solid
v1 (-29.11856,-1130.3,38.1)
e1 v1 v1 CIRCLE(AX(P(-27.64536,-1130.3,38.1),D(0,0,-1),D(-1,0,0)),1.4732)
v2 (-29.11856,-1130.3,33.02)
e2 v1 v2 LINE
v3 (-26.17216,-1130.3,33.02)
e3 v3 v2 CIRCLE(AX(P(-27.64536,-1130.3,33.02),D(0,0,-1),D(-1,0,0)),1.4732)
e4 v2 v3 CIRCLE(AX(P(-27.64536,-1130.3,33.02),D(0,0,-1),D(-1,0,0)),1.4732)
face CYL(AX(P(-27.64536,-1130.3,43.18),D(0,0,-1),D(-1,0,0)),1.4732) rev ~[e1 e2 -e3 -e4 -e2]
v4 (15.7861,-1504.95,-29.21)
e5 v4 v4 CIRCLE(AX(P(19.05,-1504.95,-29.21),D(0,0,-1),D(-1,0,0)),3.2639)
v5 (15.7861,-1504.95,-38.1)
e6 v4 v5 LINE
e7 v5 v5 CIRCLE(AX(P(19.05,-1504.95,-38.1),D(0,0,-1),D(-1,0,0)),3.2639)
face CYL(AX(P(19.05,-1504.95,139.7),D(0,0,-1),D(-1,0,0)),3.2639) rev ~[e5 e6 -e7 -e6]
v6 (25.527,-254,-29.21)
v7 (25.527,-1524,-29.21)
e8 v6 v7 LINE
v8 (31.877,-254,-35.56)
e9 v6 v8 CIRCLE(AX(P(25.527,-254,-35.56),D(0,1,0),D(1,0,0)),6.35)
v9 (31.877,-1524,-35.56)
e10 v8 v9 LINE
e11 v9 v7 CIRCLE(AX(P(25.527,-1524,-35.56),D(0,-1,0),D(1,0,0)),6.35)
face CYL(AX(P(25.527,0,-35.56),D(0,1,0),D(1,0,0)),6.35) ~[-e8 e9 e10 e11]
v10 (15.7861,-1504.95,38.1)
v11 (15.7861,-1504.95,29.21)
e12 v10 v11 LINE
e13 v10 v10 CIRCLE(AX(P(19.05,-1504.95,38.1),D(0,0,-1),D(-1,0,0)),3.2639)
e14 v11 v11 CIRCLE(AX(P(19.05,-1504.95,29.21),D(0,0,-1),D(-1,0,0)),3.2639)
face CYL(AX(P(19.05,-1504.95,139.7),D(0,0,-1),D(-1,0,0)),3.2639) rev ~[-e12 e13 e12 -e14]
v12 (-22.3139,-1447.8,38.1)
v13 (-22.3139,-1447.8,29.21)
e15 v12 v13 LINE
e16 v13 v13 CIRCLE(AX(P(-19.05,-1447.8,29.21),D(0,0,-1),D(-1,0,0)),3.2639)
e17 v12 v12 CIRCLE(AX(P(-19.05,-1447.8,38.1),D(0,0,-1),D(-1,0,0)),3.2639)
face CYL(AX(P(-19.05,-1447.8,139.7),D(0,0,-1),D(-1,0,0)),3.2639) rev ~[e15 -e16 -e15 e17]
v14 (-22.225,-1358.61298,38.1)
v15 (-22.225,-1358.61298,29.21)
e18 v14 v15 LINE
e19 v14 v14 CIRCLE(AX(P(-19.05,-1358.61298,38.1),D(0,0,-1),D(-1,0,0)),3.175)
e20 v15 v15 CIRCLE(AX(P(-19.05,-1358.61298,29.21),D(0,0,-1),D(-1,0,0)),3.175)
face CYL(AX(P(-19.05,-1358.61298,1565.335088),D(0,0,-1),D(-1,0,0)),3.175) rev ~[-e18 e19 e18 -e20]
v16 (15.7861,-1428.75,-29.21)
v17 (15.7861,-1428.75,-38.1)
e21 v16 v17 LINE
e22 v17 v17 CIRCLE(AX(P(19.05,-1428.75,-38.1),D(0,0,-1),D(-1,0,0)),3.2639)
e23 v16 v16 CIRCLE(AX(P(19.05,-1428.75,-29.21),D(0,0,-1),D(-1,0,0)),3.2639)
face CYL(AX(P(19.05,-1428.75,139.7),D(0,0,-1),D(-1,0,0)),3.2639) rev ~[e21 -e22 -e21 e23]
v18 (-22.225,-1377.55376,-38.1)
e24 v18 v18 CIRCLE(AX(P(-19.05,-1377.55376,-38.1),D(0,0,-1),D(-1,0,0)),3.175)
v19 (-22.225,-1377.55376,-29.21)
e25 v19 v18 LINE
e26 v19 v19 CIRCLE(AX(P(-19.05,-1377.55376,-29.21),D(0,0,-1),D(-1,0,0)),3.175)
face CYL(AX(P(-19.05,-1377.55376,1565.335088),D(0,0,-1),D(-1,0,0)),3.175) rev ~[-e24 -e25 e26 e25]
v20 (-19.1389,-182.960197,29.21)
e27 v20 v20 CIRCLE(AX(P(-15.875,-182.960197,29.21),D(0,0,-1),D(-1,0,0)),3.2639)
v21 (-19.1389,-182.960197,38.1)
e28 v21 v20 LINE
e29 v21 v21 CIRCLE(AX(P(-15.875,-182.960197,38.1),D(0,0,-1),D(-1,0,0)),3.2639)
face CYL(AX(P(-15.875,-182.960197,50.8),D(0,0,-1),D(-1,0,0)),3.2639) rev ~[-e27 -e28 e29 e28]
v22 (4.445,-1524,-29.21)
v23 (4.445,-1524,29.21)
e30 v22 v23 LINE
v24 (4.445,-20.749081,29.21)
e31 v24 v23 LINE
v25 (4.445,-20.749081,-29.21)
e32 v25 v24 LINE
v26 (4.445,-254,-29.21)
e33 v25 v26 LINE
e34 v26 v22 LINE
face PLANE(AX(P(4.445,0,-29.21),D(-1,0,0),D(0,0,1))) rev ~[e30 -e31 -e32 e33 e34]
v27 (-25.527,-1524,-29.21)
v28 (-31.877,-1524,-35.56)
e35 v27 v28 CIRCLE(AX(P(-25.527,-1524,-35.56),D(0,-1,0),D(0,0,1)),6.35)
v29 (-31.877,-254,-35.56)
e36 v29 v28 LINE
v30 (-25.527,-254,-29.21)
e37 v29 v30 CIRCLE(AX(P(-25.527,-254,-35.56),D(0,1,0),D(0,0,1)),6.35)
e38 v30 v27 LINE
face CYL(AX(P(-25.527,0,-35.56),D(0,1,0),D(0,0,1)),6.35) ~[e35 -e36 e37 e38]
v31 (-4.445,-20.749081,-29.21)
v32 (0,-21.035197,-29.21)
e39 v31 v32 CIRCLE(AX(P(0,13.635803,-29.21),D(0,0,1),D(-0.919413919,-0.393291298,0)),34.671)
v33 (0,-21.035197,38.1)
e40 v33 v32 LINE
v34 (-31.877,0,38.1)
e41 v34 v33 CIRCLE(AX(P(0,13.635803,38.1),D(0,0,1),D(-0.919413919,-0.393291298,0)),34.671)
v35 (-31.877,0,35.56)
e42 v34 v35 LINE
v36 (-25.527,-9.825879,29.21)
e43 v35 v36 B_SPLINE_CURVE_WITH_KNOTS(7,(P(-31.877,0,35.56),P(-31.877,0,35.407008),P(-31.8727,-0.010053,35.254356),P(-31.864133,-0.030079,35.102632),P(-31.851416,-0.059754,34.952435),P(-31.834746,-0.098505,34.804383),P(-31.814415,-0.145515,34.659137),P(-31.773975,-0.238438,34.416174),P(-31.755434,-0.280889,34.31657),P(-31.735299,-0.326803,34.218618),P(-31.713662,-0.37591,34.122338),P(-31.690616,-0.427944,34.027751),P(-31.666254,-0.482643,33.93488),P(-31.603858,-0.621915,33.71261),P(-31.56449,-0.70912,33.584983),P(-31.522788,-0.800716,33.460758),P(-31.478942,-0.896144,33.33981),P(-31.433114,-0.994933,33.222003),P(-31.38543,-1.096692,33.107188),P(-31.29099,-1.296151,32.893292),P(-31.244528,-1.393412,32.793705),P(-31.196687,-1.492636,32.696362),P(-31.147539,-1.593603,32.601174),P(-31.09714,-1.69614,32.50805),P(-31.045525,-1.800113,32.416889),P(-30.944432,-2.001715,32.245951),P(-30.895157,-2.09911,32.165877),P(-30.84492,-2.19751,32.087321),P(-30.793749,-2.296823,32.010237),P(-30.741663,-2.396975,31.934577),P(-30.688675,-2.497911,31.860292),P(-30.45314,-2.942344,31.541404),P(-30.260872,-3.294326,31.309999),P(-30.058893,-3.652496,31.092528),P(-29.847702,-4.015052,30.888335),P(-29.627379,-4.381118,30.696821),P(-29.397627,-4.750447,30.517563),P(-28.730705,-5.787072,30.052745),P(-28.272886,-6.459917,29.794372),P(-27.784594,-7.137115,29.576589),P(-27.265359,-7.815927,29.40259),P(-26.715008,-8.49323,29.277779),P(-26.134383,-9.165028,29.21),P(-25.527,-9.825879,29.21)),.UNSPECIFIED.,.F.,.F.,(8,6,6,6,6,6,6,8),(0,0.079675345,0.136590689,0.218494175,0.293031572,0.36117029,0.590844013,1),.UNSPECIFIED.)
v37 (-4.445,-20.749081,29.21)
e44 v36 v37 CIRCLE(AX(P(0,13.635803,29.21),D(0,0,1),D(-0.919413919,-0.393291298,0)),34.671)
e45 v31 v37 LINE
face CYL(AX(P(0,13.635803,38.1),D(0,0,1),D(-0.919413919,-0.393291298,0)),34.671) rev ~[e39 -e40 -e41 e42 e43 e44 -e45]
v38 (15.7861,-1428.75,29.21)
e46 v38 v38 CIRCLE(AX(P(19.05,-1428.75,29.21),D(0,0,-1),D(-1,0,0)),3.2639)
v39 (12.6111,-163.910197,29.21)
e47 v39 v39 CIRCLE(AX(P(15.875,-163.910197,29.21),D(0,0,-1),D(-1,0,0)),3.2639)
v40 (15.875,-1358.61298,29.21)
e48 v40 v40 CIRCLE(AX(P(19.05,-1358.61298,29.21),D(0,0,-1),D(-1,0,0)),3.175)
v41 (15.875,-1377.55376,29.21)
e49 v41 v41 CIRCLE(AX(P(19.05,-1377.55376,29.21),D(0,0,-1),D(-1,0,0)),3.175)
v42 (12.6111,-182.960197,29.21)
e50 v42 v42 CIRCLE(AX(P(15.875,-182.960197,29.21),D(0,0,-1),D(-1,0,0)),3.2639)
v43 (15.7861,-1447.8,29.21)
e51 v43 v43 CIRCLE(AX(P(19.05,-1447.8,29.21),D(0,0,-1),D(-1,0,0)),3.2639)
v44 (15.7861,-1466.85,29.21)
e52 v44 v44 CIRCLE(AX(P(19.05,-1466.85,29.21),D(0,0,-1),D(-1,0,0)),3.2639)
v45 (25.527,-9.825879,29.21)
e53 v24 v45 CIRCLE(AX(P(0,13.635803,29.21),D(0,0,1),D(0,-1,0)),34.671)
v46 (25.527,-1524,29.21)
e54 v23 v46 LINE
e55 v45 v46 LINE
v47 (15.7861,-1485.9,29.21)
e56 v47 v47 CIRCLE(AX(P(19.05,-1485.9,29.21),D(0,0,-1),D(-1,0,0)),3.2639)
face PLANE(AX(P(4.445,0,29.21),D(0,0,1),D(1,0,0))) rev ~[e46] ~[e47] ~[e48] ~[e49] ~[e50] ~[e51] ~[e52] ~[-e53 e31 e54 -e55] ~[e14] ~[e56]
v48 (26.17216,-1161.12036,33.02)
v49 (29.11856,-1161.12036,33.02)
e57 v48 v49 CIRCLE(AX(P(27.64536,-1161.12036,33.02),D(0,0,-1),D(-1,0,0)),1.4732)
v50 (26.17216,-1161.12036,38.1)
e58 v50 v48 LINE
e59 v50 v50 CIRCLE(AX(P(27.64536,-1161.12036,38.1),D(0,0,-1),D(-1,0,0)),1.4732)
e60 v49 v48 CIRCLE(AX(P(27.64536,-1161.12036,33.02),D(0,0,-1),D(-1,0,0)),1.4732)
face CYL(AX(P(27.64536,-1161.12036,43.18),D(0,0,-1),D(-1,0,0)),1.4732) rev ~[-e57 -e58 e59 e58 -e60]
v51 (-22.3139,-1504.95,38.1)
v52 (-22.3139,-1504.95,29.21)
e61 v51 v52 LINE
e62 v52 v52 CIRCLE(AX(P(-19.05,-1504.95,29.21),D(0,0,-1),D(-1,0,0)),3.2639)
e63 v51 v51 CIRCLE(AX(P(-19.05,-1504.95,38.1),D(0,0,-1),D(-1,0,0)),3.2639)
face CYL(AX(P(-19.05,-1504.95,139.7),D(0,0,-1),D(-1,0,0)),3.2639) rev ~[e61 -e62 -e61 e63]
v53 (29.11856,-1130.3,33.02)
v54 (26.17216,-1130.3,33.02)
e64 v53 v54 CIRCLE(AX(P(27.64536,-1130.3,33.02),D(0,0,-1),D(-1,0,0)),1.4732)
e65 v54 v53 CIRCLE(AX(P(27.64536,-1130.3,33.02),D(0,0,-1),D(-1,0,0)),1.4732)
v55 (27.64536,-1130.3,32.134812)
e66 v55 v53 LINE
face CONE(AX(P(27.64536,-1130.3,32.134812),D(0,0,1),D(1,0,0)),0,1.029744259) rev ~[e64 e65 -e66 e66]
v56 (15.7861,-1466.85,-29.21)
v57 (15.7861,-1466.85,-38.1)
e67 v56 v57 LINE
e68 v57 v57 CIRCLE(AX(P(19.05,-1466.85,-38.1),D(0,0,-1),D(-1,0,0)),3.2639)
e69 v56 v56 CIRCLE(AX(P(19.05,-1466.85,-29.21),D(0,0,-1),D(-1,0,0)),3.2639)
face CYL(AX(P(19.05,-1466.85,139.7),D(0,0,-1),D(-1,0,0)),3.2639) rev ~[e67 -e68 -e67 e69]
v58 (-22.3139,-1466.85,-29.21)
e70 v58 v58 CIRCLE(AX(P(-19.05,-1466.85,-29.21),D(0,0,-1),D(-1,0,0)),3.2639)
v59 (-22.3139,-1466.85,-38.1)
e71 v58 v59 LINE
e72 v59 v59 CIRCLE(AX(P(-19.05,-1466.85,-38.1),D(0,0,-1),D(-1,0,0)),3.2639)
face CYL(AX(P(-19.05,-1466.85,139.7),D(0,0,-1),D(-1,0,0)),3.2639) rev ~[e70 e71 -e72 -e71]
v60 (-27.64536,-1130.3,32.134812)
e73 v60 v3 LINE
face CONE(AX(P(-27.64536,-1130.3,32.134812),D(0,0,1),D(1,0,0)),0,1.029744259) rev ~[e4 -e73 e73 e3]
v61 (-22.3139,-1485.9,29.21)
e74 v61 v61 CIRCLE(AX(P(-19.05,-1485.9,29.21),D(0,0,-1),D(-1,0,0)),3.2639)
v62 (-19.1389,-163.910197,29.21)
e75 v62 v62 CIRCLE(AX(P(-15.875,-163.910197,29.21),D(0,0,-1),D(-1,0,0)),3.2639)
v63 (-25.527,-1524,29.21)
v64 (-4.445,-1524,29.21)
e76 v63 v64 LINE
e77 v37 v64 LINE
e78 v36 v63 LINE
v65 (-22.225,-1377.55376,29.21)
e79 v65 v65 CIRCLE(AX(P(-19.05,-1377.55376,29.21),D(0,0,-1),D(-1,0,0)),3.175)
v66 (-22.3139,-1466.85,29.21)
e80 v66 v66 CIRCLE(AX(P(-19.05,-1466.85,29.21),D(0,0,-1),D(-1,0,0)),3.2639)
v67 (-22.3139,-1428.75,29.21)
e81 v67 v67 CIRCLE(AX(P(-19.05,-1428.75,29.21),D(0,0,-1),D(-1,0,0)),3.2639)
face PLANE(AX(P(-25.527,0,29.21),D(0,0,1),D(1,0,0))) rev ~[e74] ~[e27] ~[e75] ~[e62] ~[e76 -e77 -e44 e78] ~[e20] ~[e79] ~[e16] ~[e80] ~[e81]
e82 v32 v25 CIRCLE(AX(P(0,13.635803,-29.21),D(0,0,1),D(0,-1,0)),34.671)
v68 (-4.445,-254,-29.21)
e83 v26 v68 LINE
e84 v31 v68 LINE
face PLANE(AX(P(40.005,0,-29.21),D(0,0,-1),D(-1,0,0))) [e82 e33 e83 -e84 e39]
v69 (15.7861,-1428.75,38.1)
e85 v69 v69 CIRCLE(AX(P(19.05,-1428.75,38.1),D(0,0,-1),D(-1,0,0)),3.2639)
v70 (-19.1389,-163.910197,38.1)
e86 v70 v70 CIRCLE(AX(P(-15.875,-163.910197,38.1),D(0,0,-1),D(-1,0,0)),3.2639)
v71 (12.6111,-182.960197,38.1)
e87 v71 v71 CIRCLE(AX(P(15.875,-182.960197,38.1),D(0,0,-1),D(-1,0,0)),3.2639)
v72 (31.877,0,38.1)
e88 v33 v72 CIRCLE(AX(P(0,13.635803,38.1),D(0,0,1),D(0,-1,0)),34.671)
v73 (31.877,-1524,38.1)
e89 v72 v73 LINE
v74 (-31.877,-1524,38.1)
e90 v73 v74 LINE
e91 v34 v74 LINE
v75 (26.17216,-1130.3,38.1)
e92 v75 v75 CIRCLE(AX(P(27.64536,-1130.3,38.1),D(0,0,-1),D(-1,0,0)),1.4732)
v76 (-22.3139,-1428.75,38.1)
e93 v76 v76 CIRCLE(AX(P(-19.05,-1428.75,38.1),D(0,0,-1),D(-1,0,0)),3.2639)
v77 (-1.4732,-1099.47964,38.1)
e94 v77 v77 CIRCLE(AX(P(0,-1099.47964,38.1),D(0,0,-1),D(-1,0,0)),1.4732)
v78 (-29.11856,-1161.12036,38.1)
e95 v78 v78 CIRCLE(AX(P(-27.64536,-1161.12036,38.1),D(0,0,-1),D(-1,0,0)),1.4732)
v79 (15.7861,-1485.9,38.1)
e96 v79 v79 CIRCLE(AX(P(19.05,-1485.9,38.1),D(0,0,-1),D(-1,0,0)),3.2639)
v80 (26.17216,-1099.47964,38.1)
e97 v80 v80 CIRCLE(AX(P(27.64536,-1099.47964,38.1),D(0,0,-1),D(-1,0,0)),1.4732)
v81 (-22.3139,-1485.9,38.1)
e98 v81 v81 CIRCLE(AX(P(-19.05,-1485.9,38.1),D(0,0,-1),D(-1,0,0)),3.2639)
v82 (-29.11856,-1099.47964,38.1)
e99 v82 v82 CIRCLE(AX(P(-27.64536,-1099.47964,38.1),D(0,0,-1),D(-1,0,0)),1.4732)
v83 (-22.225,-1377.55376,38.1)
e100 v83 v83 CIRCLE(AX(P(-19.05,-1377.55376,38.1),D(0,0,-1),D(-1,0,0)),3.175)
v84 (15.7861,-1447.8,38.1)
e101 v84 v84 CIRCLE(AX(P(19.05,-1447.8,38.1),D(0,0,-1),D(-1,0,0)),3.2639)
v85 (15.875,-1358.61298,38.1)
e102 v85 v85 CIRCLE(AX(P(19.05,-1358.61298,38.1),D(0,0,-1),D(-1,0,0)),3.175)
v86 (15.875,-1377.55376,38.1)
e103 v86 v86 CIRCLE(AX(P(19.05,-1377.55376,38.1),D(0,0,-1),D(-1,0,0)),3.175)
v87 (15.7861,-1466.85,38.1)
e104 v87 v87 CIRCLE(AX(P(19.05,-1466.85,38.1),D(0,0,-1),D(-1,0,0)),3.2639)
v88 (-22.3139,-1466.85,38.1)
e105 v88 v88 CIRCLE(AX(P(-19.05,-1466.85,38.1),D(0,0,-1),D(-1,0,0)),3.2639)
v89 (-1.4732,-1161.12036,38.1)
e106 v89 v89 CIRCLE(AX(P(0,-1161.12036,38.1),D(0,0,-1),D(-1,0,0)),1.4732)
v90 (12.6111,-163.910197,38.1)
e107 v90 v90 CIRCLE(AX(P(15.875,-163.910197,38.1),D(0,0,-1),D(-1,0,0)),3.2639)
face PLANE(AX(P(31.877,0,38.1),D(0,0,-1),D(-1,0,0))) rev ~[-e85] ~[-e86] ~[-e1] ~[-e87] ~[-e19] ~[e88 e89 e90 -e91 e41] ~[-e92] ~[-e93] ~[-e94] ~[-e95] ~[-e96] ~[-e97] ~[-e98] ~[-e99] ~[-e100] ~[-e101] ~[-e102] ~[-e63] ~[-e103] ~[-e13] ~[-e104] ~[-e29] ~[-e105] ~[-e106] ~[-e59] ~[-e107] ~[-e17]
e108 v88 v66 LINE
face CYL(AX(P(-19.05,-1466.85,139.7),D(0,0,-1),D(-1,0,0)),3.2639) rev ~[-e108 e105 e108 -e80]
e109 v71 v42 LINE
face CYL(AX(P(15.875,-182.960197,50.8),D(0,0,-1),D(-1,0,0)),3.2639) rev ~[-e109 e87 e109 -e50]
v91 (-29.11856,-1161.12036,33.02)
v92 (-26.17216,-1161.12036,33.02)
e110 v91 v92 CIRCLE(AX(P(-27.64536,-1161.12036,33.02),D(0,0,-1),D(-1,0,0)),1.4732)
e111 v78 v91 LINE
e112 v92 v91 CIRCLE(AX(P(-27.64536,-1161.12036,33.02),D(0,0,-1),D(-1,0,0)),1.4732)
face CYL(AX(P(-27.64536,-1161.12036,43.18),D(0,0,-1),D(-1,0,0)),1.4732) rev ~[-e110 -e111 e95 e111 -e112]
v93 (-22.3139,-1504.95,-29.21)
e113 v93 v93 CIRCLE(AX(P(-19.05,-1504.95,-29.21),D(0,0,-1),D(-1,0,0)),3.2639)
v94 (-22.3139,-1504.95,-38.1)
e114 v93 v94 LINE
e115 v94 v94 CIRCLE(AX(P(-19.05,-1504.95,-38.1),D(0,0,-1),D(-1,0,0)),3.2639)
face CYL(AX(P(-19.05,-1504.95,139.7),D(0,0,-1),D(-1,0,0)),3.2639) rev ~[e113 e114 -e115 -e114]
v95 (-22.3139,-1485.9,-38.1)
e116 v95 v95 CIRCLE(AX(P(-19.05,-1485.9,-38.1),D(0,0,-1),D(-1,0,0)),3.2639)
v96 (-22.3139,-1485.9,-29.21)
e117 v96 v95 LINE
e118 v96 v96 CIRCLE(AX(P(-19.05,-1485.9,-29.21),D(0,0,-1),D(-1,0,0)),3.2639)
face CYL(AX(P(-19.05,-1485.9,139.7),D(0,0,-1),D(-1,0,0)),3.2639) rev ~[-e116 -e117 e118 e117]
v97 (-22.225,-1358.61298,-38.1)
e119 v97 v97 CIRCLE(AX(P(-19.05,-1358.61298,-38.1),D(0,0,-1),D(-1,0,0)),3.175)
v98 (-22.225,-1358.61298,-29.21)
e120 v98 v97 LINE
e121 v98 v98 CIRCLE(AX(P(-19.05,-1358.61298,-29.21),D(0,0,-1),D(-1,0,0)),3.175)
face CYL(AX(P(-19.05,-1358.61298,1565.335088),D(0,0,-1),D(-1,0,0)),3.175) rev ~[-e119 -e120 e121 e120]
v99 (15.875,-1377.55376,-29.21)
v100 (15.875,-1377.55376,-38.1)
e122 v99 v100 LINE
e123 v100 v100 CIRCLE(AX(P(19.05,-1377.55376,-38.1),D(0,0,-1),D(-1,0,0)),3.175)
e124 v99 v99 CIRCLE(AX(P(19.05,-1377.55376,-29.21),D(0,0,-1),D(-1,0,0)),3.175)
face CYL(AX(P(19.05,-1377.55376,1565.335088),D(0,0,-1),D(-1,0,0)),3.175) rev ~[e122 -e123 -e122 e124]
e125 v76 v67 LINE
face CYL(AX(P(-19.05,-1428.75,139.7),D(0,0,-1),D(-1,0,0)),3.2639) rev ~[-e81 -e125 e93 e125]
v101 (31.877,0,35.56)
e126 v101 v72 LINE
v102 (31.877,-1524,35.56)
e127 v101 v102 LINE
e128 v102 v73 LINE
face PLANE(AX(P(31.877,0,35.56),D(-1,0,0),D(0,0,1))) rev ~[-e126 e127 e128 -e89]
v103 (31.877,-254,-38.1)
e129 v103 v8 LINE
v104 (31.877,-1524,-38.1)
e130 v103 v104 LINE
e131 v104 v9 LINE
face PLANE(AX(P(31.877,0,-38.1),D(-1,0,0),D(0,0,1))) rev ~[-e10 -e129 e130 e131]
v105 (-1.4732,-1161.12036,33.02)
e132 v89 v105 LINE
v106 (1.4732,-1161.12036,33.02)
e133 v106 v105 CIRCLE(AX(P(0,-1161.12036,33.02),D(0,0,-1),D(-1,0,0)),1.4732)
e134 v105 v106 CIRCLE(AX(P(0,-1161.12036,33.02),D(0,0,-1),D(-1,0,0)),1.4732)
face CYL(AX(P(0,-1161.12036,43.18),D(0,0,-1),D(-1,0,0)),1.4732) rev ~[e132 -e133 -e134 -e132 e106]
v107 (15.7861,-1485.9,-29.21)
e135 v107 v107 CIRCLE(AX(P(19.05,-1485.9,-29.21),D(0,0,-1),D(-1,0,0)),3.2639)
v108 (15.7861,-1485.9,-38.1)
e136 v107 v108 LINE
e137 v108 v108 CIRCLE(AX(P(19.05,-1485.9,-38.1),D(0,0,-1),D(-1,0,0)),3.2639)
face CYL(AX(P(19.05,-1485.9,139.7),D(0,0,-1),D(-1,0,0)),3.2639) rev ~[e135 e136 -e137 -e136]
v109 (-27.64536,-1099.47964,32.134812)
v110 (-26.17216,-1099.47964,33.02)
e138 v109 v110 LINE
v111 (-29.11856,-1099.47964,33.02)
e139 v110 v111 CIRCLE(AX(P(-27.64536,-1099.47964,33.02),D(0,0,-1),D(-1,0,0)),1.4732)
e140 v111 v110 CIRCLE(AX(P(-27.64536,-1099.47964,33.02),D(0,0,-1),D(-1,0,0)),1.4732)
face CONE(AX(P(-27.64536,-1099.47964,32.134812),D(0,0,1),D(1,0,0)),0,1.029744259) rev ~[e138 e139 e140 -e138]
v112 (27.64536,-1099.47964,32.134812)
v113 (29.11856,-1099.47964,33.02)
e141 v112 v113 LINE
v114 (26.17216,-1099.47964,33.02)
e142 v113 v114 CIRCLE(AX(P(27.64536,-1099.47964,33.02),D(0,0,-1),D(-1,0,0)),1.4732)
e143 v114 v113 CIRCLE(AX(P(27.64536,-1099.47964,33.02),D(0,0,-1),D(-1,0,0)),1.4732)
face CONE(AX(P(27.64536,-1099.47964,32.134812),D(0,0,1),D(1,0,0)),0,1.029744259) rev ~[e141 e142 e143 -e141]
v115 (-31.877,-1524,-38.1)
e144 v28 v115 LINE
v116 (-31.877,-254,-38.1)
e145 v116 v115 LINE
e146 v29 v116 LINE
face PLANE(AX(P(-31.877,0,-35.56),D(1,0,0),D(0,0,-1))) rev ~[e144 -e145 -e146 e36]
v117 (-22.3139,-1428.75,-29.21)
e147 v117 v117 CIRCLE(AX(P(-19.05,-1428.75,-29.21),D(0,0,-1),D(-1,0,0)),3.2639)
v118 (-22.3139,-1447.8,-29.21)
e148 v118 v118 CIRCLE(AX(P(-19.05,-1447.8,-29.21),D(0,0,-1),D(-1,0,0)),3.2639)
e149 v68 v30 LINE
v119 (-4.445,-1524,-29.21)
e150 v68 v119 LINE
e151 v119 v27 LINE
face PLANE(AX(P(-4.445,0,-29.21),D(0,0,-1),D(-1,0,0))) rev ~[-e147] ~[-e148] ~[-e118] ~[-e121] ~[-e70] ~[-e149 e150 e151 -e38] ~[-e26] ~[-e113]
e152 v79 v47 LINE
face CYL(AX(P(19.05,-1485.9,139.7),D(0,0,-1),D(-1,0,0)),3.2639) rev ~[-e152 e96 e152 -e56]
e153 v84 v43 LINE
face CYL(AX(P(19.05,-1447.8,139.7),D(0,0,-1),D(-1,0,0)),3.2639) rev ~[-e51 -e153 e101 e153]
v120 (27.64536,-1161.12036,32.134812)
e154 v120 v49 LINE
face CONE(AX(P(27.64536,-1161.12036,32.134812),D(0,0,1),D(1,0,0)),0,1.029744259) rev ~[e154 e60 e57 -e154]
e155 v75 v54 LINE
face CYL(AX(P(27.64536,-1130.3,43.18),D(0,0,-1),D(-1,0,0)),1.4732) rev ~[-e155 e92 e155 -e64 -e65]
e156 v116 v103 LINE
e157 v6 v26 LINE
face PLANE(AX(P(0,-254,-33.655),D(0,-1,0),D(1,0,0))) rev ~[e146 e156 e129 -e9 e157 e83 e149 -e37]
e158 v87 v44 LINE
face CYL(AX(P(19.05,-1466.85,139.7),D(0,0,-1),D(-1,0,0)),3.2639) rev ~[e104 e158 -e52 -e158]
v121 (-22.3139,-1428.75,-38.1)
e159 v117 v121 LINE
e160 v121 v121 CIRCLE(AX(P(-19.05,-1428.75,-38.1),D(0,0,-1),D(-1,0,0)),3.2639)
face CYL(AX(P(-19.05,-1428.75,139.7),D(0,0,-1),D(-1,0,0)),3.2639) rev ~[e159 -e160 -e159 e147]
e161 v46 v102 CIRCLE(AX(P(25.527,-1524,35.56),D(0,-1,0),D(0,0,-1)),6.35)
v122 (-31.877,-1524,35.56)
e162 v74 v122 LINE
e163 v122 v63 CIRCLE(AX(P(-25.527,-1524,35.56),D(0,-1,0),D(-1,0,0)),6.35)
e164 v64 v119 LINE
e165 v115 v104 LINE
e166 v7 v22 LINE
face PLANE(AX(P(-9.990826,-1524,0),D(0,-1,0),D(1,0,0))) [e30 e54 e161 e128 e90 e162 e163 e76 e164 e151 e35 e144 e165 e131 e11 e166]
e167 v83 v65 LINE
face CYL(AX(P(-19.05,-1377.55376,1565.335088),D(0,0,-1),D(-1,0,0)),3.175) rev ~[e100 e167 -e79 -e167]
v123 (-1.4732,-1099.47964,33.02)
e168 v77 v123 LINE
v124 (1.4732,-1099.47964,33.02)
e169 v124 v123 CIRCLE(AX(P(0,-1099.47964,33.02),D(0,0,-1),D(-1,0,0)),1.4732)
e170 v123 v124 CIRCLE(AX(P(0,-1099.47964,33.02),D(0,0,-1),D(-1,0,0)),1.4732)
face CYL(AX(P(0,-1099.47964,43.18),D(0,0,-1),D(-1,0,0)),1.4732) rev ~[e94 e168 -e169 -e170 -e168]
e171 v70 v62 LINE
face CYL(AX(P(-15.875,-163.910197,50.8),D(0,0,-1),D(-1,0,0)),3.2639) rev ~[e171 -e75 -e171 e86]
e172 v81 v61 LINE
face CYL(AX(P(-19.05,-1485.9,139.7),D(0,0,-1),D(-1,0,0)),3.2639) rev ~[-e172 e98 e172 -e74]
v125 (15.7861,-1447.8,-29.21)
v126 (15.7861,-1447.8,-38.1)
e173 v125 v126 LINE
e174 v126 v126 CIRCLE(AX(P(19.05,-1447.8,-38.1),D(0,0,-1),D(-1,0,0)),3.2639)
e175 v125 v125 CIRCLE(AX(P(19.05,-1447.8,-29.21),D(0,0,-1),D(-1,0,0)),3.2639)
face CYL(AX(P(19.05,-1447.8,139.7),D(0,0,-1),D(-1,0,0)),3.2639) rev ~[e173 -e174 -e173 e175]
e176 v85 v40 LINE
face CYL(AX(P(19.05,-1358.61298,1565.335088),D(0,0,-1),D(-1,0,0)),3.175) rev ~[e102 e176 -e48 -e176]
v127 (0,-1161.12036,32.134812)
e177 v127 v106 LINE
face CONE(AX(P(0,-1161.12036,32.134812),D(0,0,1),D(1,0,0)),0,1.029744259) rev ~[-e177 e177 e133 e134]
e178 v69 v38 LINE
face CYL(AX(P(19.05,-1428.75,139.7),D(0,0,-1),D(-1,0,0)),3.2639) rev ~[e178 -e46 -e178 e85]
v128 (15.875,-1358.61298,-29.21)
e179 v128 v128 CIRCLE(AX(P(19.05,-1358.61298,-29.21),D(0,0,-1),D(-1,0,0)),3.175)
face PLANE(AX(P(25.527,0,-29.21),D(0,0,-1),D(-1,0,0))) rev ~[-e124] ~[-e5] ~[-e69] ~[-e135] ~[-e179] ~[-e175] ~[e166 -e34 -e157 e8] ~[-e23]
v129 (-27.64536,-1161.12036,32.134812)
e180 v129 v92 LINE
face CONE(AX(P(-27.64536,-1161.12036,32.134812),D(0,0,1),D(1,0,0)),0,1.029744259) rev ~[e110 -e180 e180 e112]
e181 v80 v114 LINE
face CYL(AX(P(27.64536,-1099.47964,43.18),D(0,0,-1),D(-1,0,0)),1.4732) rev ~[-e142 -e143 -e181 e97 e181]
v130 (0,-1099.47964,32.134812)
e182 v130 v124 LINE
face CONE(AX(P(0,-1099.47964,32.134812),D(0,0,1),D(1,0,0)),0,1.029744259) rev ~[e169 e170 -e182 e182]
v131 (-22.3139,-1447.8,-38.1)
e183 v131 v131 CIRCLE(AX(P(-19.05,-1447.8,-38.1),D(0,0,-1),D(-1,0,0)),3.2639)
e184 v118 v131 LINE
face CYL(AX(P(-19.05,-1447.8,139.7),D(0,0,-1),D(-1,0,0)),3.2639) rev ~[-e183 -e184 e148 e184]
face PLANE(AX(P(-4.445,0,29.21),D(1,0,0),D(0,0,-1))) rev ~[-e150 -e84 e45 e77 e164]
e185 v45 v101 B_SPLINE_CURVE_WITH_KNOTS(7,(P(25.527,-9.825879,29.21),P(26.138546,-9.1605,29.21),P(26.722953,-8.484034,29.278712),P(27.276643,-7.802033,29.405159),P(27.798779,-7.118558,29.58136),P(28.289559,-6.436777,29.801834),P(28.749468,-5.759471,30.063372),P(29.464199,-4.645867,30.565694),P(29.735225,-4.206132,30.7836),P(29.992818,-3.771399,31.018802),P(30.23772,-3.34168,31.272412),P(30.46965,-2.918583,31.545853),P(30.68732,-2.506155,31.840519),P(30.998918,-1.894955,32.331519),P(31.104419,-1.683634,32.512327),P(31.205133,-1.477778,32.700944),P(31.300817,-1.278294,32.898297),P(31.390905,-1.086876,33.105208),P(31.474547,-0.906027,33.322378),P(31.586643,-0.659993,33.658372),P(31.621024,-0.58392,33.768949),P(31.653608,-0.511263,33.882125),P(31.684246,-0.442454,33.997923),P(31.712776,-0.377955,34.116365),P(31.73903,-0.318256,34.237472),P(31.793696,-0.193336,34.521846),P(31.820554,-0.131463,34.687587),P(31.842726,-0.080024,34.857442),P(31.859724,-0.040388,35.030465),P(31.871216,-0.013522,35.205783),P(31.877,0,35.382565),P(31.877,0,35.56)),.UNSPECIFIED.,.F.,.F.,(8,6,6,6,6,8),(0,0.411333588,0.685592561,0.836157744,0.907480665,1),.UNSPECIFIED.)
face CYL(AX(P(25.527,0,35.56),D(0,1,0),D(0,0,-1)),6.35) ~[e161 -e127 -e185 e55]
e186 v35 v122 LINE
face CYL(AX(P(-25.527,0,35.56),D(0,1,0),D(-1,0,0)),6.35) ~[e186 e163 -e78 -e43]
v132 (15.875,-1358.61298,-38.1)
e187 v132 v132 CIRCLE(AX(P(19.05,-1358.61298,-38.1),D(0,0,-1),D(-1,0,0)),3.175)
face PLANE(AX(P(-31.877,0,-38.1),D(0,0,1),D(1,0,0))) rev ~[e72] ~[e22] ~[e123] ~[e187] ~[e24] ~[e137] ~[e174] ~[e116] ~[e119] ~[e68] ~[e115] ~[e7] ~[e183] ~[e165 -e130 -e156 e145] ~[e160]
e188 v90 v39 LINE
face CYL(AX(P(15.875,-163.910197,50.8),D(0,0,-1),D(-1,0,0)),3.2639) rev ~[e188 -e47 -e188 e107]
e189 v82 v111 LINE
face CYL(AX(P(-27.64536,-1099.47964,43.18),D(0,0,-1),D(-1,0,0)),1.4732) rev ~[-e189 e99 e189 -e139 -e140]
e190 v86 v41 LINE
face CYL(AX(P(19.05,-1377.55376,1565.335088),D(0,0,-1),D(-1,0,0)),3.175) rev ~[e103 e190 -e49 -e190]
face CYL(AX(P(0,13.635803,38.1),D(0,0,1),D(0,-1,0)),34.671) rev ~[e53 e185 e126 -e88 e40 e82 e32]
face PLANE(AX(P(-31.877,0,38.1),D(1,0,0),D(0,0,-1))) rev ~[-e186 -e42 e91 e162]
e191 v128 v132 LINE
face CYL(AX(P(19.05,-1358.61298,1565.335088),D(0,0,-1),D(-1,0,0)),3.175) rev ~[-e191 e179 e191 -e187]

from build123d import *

# Parameters (mm, degrees)
F1_DEPTH  = 1524
F3_DEPTH  = 101.6
F5_D      = 6.5278
F5_DEPTH  = 12.7
F5_TIP    = 1.9611489744
F7_DEPTH  = 254
F9_D      = 6.5278
F9_DEPTH  = 101.6
F9_TIP    = 1.9611489744
F10_D     = 6.35
F12_D     = 2.9464
F12_DEPTH = 5.08
F12_TIP   = 0.885187864


with BuildPart() as f1:
    # F0 (on Front) → F1 (new body)
    with BuildSketch(Plane.XZ):
        with BuildLine():
            Line((0, -38.1), (0, 0))
            Line((0, 0), (0, 38.1))
            Line((0, 38.1), (-31.877, 38.1))
            Line((-31.877, 38.1), (-31.877, 35.56))
            ThreePointArc((-31.877, 35.56), (-30.0171280605, 31.0698719395), (-25.527, 29.21))
            Line((-25.527, 29.21), (-4.445, 29.21))
            Line((-4.445, 29.21), (-4.445, 0))
            Line((-4.445, 0), (-4.445, -29.21))
            Line((-4.445, -29.21), (-25.527, -29.21))
            ThreePointArc((-25.527, -29.21), (-30.0171280605, -31.0698719395), (-31.877, -35.56))
            Line((-31.877, -35.56), (-31.877, -38.1))
            Line((-31.877, -38.1), (0, -38.1))
        make_face()
        with BuildLine():
            Line((0, 38.1), (0, 0))
            Line((0, 0), (4.445, 0))
            Line((4.445, 0), (4.445, 29.21))
            Line((4.445, 29.21), (25.527, 29.21))
            ThreePointArc((25.527, 29.21), (30.0171280605, 31.0698719395), (31.877, 35.56))
            Line((31.877, 35.56), (31.877, 38.1))
            Line((31.877, 38.1), (0, 38.1))
        make_face()
        with BuildLine():
            Line((4.445, 0), (0, 0))
            Line((0, 0), (0, -38.1))
            Line((0, -38.1), (31.877, -38.1))
            Line((31.877, -38.1), (31.877, -35.56))
            ThreePointArc((31.877, -35.56), (30.0171280605, -31.0698719395), (25.527, -29.21))
            Line((25.527, -29.21), (4.445, -29.21))
            Line((4.445, -29.21), (4.445, 0))
        make_face()
    extrude(amount=F1_DEPTH)

    # F2 (on face) → F3 (cut)
    with BuildSketch(Plane.XY.offset(38.1)):
        with BuildLine():
            ThreePointArc((-31.877, 0), (-19.0959593861, -15.3024519653), (0, -21.03519742))
            Line((0, -21.03519742), (0, 0))
            Line((0, 0), (-31.877, 0))
        make_face()
        with BuildLine():
            Line((0, 0), (0, -21.03519742))
            ThreePointArc((0, -21.03519742), (24.5160992105, -10.8802966305), (34.671, 13.63580258))
            ThreePointArc((34.671, 13.63580258), (-6.9595536495, 47.6011209798), (-31.877, 0))
            Line((-31.877, 0), (0, 0))
        make_face()
    extrude(amount=-F3_DEPTH, mode=Mode.SUBTRACT)

    # F5
    with Locations(Plane.XY.offset(38.1)):
        with Locations((-15.875, -182.96019742), (15.875, -163.91019742), (15.875, -182.96019742), (-15.875, -163.91019742)):
            Hole(F5_D / 2, depth=F5_DEPTH)
            with Locations((0, 0, -(F5_DEPTH + F5_TIP / 2))):  # 118° drill point
                Cone(0, F5_D / 2, F5_TIP, mode=Mode.SUBTRACT)

    # F6 (on Front) → F7 (cut)
    with BuildSketch(Plane.XZ):
        Polygon((40.005, -29.21), (4.445, -29.21), (-4.445, -29.21), (-40.005, -29.21), (-40.005, -38.1), (40.005, -38.1), align=None)
    extrude(amount=F7_DEPTH, mode=Mode.SUBTRACT)

    # F9
    with Locations(Plane.XY.offset(38.1)):
        with Locations((-19.05, -1428.75), (-19.05, -1447.8), (-19.05, -1466.85), (-19.05, -1485.9), (-19.05, -1504.95), (19.05, -1504.95), (19.05, -1485.9), (19.05, -1466.85), (19.05, -1447.8), (19.05, -1428.75)):
            Hole(F9_D / 2, depth=F9_DEPTH)
            with Locations((0, 0, -(F9_DEPTH + F9_TIP / 2))):  # 118° drill point
                Cone(0, F9_D / 2, F9_TIP, mode=Mode.SUBTRACT)

    # F10 (through all)
    with Locations(Plane.XY.offset(38.1)):
        with Locations((19.05, -1377.55376), (19.05, -1358.61298), (-19.05, -1358.61298), (-19.05, -1377.55376)):
            Hole(F10_D / 2)

    # F12
    with Locations(Plane.XY.offset(38.1)):
        with Locations((27.64536, -1099.47964), (27.64536, -1130.3), (0, -1099.47964), (-27.64536, -1099.47964), (-27.64536, -1130.3), (-27.64536, -1161.12036), (0, -1161.12036), (27.64536, -1161.12036)):
            Hole(F12_D / 2, depth=F12_DEPTH)
            with Locations((0, 0, -(F12_DEPTH + F12_TIP / 2))):  # 118° drill point
                Cone(0, F12_D / 2, F12_TIP, mode=Mode.SUBTRACT)


solid = f1.part
